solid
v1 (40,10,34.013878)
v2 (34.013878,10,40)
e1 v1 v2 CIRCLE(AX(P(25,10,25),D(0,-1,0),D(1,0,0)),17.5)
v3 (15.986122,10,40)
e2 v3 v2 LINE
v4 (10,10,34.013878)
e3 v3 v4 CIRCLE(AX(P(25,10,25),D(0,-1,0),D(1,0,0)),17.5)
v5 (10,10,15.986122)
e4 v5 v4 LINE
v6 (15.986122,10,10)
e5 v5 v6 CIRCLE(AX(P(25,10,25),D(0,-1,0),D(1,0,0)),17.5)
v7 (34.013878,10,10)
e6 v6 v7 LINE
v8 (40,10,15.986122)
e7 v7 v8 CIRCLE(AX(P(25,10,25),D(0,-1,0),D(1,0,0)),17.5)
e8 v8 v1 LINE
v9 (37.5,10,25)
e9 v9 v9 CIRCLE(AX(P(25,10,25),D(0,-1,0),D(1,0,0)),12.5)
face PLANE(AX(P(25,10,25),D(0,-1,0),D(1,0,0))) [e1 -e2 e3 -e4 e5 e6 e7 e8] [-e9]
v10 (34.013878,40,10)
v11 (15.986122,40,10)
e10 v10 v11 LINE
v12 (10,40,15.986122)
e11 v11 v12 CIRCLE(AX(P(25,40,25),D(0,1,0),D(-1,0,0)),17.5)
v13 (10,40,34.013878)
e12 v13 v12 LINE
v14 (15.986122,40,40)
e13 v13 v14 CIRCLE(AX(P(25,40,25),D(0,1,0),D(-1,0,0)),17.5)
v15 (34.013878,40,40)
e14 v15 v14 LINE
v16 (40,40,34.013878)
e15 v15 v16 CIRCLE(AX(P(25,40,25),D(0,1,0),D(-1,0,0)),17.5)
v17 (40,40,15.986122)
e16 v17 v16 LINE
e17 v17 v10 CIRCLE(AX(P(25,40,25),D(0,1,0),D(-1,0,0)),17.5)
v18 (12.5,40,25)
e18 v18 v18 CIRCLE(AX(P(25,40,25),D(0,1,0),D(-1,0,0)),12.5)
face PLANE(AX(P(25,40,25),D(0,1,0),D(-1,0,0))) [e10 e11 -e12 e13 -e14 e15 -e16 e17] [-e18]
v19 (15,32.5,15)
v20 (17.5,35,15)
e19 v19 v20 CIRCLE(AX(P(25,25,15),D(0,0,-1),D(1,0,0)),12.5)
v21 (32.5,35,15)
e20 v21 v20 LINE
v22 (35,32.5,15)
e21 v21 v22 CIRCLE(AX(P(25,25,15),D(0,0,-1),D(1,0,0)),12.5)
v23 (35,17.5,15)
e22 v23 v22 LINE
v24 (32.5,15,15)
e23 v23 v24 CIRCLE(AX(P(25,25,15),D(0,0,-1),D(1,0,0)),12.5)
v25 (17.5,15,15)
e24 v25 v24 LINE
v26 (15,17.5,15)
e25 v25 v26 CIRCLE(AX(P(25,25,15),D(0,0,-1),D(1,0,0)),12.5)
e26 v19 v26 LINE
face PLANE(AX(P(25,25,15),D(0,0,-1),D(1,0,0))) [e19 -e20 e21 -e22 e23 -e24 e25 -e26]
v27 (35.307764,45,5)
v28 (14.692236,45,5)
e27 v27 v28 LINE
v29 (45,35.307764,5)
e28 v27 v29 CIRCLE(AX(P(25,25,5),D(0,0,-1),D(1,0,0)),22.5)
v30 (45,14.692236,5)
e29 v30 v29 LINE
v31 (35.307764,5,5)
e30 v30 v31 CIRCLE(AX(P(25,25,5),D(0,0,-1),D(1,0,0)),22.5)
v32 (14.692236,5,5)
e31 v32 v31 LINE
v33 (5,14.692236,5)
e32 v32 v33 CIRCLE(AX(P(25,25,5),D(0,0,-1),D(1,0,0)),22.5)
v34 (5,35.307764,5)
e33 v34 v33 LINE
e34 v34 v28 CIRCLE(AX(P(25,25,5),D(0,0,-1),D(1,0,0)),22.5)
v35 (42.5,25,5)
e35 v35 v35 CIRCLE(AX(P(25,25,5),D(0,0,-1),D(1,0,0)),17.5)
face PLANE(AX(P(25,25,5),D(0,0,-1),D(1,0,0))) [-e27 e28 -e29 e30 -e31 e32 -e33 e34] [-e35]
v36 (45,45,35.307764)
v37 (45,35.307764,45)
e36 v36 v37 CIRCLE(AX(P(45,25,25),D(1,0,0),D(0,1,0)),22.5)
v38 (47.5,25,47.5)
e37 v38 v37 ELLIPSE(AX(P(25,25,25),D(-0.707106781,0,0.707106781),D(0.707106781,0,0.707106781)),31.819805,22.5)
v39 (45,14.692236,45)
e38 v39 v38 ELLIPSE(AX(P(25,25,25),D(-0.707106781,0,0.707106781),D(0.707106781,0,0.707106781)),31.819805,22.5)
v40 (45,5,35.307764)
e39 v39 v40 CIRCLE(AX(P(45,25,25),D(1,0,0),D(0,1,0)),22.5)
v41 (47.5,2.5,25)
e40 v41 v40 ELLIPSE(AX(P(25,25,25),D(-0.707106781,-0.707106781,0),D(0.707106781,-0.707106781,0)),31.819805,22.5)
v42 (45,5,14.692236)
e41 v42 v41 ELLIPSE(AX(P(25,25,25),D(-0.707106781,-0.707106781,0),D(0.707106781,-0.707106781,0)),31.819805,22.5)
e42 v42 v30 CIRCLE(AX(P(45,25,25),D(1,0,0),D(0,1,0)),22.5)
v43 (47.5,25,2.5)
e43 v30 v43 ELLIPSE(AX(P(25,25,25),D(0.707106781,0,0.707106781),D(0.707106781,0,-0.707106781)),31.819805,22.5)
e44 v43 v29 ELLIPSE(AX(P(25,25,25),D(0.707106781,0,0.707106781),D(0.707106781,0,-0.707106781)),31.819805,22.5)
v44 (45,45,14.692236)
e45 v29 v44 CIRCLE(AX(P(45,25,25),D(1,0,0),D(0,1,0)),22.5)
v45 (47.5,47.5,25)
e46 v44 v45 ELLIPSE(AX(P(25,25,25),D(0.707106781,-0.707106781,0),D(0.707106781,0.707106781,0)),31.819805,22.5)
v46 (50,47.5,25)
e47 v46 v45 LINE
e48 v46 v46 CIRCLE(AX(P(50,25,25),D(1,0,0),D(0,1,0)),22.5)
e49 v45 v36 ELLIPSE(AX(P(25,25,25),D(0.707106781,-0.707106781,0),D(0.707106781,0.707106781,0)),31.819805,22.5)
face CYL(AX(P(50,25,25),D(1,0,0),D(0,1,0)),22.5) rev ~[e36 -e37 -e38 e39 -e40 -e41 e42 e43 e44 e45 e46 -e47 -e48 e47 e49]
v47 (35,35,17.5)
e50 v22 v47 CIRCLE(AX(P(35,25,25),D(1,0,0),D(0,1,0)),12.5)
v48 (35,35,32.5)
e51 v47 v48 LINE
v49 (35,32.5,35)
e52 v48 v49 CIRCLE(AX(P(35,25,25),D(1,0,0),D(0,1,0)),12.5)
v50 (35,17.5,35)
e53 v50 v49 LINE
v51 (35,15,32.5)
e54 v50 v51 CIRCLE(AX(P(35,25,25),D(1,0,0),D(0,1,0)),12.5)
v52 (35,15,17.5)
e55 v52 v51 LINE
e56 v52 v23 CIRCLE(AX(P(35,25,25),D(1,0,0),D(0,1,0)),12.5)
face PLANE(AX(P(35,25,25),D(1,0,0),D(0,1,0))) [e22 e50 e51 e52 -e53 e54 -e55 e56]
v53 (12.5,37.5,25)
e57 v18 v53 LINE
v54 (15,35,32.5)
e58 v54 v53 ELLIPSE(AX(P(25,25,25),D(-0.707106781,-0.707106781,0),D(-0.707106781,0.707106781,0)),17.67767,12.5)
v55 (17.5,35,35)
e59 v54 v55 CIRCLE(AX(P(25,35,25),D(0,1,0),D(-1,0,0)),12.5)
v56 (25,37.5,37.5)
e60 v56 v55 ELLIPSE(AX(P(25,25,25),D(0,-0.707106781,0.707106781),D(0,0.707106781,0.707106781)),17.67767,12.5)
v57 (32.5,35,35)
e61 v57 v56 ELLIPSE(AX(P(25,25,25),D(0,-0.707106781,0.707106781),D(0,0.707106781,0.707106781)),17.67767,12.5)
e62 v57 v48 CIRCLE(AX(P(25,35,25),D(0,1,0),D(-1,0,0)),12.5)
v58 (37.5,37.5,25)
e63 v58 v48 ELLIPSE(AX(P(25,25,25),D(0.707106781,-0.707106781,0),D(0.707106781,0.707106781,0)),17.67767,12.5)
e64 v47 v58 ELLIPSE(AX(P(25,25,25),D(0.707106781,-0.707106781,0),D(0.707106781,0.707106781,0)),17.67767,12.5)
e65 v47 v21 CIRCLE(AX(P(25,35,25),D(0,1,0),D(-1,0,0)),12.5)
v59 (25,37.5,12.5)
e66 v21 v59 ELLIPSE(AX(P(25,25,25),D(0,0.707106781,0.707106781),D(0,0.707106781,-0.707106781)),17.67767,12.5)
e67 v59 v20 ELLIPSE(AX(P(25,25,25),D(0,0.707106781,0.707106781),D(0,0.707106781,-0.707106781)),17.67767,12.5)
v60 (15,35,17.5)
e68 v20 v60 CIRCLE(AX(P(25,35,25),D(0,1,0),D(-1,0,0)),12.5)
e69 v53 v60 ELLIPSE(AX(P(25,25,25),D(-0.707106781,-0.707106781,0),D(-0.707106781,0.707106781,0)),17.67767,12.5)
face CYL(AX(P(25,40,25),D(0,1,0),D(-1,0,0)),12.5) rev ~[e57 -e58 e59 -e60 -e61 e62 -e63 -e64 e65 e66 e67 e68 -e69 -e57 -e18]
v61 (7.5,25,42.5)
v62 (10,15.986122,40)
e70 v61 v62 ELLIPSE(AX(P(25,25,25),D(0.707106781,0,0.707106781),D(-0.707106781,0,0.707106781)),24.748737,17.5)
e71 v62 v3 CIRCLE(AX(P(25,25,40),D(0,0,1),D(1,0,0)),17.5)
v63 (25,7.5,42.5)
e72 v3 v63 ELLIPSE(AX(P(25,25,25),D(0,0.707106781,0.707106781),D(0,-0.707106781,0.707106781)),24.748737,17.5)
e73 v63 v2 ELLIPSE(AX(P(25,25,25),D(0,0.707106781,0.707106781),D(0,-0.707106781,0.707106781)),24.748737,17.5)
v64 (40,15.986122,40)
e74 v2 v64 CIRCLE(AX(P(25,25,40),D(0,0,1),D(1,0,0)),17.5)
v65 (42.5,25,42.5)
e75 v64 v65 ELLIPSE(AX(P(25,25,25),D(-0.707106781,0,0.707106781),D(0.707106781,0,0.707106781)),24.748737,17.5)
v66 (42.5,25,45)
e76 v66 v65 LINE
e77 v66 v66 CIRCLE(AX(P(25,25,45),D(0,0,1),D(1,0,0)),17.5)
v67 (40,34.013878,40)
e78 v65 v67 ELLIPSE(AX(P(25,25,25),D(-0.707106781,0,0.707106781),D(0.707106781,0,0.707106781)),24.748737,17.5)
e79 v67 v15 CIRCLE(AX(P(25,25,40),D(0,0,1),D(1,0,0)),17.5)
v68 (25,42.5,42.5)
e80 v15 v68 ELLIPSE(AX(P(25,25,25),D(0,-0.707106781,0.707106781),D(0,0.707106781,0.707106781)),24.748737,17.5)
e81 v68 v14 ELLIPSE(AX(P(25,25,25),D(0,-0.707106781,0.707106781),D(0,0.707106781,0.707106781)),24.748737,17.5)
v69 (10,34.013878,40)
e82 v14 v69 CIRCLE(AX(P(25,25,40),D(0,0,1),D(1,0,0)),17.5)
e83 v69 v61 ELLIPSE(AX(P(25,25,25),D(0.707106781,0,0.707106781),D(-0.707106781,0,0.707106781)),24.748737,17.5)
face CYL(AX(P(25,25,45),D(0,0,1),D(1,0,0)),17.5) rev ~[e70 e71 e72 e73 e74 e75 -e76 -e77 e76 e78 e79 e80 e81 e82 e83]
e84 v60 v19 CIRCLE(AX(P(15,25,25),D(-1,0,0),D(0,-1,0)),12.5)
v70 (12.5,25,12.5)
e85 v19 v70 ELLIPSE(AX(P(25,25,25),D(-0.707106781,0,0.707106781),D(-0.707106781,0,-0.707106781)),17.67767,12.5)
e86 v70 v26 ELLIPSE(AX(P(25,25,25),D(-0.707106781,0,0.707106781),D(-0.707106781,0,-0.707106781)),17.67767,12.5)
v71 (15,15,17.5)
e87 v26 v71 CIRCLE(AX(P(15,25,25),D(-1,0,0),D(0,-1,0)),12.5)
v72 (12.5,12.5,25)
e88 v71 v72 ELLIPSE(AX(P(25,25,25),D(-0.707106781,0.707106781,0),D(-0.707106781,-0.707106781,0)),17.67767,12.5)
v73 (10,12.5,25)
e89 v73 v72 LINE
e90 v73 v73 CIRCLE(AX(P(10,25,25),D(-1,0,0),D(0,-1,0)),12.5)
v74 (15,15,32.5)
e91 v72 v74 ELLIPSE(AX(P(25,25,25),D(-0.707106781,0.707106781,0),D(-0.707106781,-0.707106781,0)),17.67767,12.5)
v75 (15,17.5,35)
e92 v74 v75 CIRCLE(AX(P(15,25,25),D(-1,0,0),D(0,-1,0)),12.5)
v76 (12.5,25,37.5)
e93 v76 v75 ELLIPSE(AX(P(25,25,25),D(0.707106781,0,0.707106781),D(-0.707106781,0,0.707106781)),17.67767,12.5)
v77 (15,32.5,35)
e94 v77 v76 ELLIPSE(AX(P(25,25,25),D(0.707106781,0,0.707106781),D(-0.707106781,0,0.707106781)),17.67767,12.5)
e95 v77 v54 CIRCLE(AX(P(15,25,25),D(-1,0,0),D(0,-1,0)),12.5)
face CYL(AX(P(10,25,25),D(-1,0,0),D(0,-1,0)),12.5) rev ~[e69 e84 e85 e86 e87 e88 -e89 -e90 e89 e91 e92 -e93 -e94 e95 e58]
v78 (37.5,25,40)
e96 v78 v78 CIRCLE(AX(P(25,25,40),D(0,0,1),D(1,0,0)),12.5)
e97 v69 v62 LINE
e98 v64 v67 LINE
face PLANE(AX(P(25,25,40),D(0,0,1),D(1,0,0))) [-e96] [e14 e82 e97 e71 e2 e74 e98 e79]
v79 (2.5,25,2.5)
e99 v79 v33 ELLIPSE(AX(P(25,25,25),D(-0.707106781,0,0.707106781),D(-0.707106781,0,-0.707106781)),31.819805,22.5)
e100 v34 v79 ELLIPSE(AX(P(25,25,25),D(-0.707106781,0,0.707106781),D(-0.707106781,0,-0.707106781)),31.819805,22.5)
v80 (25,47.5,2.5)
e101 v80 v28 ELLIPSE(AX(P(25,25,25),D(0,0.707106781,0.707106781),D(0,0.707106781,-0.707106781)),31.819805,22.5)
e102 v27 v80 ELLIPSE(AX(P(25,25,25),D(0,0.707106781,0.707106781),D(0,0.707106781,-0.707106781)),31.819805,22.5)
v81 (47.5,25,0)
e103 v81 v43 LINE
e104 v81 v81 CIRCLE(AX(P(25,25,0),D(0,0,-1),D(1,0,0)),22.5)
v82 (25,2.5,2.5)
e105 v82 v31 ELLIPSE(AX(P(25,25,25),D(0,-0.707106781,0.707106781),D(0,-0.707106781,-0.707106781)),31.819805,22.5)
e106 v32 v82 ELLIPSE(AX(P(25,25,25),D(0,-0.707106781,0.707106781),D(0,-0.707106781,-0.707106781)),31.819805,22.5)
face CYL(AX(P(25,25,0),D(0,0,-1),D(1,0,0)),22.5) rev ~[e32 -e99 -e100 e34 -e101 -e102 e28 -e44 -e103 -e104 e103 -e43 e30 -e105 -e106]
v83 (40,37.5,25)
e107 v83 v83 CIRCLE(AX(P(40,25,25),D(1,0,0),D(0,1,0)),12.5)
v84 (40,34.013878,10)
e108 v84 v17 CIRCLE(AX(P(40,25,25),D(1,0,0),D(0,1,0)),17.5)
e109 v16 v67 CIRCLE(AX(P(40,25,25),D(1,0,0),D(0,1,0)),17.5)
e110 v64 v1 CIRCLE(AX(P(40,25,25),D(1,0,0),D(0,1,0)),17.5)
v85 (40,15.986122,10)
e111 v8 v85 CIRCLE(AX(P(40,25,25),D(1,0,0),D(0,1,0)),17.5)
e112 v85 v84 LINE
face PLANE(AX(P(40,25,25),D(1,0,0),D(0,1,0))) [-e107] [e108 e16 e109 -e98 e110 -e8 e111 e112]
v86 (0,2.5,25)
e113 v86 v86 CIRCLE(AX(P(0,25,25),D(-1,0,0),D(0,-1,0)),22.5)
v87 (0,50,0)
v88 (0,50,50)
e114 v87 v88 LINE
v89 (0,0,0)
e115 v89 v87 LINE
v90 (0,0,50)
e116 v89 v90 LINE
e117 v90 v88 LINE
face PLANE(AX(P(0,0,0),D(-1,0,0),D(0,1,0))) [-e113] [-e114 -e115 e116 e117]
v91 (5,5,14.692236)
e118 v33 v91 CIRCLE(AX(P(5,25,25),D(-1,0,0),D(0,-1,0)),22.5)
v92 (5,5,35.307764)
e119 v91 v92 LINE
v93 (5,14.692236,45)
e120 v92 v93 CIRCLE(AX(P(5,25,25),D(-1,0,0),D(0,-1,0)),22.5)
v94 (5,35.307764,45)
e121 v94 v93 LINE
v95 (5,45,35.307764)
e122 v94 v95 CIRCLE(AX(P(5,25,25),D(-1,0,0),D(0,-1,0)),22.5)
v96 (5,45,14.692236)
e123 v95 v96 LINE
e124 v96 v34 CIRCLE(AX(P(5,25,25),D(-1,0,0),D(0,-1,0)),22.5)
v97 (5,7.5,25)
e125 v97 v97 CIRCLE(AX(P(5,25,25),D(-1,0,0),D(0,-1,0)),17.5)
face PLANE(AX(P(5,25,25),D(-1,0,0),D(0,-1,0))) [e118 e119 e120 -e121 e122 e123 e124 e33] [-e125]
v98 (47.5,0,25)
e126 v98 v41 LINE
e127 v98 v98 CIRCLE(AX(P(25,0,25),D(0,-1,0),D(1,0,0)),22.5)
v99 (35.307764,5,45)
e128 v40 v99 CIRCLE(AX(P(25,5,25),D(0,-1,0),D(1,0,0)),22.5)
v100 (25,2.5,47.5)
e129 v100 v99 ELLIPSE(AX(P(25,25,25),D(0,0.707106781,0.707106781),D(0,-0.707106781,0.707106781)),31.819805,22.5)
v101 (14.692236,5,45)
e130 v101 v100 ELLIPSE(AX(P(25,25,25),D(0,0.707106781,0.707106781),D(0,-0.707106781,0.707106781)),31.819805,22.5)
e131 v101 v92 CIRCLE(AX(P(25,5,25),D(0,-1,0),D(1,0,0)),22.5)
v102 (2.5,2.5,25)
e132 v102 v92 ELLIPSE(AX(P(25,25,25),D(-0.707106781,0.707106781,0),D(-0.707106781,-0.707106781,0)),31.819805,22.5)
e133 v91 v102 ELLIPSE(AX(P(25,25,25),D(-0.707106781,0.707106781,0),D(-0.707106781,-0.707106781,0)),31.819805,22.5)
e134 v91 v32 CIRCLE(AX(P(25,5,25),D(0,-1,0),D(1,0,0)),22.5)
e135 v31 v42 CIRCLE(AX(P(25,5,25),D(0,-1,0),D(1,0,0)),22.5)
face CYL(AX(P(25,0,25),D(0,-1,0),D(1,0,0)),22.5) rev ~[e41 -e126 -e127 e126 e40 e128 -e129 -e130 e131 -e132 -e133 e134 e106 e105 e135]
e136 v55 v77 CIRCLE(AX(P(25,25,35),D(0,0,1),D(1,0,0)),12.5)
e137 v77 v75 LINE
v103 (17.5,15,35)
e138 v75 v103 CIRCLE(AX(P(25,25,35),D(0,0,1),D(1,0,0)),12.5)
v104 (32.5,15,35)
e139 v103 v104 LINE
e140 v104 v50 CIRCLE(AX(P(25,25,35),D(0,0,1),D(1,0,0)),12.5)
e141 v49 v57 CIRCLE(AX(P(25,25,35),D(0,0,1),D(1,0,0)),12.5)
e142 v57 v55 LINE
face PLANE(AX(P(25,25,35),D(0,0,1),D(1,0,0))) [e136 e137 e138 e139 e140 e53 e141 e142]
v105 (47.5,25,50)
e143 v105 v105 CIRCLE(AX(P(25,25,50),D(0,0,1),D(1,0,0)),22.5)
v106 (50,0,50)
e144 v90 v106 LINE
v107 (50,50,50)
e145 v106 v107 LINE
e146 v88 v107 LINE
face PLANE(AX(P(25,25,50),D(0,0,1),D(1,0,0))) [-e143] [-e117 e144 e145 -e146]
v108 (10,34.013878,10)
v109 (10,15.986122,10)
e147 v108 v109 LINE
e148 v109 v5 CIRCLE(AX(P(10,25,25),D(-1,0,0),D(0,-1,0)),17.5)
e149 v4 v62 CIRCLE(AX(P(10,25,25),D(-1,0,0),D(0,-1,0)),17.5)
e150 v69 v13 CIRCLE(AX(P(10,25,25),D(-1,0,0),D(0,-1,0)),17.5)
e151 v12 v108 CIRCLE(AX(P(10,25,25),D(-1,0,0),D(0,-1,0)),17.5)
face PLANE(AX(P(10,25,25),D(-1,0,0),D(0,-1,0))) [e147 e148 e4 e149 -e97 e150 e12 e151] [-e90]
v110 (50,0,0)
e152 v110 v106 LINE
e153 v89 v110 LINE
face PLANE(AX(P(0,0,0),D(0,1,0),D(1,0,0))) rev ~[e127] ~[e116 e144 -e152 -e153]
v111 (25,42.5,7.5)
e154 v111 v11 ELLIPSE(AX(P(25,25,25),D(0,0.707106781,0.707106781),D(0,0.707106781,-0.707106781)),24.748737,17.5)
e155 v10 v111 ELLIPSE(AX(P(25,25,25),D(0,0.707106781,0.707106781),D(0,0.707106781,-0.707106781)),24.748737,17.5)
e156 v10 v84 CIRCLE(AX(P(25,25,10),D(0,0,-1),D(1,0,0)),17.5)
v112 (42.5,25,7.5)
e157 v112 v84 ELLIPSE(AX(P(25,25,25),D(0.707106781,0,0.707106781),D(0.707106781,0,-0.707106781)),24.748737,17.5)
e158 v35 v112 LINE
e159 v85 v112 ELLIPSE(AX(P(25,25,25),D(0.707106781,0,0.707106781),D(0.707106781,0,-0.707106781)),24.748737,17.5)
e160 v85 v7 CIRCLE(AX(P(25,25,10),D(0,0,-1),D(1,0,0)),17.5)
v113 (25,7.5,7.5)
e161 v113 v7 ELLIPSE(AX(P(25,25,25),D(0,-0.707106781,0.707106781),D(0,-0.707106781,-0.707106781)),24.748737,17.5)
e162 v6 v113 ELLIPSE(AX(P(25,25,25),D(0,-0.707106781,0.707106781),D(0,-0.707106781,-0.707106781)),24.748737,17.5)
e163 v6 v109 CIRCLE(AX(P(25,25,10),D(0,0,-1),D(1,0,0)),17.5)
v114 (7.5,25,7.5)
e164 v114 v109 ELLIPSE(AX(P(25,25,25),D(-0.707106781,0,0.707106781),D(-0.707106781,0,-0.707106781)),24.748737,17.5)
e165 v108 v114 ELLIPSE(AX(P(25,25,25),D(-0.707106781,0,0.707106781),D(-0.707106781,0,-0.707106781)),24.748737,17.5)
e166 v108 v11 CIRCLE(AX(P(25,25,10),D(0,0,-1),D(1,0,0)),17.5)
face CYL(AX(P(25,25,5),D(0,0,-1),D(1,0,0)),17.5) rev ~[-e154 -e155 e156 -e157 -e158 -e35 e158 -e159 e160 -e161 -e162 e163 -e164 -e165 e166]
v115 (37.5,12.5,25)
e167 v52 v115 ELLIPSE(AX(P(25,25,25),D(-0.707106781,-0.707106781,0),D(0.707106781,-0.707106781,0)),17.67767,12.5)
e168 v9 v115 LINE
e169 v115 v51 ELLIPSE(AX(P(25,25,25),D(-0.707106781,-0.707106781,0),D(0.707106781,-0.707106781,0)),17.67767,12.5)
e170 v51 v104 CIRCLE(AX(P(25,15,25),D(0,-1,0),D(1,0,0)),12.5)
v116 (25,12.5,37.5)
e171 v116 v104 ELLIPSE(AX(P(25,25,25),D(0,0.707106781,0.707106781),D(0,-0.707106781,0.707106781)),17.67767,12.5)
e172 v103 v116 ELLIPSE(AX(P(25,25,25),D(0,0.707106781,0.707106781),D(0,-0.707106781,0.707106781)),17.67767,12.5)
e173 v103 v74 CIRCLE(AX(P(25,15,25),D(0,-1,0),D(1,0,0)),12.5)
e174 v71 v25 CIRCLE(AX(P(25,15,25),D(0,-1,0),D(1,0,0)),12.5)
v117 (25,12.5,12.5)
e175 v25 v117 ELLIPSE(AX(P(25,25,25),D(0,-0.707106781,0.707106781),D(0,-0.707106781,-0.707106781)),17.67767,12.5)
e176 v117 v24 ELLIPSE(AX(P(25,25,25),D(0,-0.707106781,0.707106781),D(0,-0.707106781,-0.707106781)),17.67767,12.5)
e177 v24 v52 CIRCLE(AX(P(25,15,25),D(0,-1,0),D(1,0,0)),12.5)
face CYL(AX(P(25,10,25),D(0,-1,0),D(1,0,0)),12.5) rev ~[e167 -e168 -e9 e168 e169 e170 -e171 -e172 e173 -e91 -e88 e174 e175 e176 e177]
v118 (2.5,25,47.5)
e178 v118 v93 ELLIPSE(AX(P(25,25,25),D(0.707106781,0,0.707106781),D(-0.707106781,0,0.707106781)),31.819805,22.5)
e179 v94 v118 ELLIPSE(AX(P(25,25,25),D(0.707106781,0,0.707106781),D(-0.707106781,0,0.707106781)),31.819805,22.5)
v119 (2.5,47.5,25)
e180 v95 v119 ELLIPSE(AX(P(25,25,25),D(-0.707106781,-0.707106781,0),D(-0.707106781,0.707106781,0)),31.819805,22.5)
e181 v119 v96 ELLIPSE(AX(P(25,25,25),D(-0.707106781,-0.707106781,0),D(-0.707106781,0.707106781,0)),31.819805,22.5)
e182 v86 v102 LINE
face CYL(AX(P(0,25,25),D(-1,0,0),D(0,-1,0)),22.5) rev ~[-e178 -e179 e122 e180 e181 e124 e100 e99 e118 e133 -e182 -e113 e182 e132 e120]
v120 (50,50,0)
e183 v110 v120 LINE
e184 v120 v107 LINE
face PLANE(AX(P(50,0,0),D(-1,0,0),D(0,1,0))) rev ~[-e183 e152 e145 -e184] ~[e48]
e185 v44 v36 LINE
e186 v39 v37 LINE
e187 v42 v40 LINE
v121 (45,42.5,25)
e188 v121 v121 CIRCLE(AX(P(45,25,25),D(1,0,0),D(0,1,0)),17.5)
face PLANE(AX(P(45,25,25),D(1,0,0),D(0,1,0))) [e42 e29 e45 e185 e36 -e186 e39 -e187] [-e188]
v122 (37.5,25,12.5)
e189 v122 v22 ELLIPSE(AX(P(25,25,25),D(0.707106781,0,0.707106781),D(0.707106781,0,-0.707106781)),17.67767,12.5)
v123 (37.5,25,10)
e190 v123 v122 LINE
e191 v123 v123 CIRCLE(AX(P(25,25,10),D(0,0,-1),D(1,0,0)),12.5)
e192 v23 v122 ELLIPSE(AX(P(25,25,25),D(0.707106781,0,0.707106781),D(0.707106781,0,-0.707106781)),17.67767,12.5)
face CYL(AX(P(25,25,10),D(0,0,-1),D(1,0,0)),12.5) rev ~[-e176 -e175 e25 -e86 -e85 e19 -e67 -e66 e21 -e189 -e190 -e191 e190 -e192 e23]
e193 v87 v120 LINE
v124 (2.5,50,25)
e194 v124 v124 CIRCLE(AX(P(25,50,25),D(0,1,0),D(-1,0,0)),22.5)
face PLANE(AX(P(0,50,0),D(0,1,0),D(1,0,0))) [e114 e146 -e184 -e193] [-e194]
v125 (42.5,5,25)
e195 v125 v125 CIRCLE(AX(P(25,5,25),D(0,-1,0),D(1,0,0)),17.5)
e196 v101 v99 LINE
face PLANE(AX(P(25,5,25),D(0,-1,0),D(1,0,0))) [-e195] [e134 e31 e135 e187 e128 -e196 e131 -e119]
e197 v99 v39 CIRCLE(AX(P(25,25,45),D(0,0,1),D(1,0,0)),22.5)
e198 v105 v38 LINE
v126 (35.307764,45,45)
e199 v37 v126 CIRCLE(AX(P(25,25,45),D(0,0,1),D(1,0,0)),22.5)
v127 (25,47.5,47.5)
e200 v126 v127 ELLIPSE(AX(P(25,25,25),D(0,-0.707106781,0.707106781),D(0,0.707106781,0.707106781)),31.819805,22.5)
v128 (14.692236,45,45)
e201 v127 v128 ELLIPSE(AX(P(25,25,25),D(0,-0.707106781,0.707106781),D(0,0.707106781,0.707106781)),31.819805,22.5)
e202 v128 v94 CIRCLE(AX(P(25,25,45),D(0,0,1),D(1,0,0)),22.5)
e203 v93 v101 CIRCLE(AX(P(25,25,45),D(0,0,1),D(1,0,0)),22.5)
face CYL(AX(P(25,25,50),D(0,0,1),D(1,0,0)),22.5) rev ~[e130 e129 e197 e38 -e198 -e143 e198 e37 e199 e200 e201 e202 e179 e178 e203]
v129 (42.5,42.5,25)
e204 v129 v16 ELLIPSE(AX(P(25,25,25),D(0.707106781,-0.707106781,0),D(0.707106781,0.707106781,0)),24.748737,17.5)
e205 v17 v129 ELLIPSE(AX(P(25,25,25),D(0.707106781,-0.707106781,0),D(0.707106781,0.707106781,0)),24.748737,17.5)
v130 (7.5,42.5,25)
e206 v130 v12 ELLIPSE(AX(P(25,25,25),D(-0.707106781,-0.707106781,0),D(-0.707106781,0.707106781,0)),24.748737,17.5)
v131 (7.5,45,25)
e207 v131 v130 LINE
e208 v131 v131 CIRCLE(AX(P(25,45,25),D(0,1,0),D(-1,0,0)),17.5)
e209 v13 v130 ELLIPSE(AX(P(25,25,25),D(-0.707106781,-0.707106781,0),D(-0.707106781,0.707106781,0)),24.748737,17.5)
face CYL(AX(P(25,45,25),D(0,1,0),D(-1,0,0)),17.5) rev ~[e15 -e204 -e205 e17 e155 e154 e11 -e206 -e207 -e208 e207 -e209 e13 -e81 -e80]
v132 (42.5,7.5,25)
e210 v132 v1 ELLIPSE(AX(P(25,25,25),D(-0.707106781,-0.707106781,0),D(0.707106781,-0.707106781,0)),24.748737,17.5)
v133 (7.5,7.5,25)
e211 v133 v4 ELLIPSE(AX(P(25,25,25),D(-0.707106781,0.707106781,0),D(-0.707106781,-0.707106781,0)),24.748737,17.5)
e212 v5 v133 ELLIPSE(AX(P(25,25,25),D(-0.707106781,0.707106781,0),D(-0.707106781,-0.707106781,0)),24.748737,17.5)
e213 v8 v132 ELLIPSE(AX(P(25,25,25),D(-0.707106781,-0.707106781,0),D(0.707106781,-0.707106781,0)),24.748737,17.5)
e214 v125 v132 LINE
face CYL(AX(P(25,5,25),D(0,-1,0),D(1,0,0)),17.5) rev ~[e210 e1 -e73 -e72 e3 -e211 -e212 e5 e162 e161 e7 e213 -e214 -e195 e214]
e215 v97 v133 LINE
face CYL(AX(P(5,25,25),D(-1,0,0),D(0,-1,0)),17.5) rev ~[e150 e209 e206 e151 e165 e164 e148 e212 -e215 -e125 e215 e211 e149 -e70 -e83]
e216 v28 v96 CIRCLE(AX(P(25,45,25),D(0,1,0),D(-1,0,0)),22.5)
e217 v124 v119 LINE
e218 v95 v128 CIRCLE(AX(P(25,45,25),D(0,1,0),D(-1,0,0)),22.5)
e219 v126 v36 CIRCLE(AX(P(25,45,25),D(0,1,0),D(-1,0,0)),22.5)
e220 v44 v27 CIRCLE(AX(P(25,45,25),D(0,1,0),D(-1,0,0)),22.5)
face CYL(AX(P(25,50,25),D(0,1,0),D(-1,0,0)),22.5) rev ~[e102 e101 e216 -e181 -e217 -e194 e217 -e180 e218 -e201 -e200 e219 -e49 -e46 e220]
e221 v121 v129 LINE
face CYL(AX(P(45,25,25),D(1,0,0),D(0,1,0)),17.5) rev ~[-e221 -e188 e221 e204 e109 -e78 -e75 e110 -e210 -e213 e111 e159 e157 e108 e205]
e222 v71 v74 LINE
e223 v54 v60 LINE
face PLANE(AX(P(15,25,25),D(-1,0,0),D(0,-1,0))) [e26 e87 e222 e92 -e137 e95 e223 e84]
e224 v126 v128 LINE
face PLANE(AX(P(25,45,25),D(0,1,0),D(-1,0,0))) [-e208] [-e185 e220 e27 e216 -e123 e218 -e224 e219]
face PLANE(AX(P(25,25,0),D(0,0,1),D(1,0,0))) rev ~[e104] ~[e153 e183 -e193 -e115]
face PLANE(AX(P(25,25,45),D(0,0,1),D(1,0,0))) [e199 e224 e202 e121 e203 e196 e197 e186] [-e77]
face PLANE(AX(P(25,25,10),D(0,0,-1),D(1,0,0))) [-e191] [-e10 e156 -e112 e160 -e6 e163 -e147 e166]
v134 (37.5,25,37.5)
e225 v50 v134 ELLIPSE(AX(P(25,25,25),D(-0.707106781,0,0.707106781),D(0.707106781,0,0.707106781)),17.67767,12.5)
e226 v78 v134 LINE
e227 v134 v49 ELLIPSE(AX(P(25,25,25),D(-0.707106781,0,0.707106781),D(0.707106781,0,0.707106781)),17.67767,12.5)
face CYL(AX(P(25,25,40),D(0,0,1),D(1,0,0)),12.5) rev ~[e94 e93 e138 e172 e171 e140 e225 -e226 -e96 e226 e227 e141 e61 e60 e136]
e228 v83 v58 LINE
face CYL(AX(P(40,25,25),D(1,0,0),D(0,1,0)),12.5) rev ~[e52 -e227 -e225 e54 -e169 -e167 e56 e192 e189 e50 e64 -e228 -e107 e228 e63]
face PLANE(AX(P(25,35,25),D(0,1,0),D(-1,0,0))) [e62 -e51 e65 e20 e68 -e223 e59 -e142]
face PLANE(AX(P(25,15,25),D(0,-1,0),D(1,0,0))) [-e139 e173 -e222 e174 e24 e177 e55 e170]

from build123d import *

# Parameters (mm, degrees)
F0_W      = 50
F0_H      = 50
F1_DEPTH  = 50
F2_R      = 22.5
F3_DEPTH  = 5
F4_R      = 17.5
F5_DEPTH  = 5
F6_R      = 12.5
F7_DEPTH  = 5
F8_R      = 22.5
F9_DEPTH  = 5
F10_R     = 17.5
F11_DEPTH = 5
F12_R     = 12.5
F13_DEPTH = 5
F14_R     = 22.5
F15_DEPTH = 5
F16_R     = 17.5
F17_DEPTH = 5
F18_R     = 12.5
F19_DEPTH = 5
F20_R     = 22.5
F21_DEPTH = 5
F22_R     = 17.5
F23_DEPTH = 5
F24_R     = 12.5
F25_DEPTH = 5
F26_R     = 22.5
F27_DEPTH = 5
F28_R     = 17.5
F29_DEPTH = 5
F30_R     = 12.5
F31_DEPTH = 5
F32_R     = 22.5
F33_DEPTH = 5
F34_R     = 17.5
F35_DEPTH = 5
F36_R     = 12.5
F37_DEPTH = 5


with BuildPart() as f1:
    # F0 (on Top) → F1 (new body)
    with BuildSketch(Plane.XY):
        with Locations((25, 25)):
            Rectangle(F0_W, F0_H)
    extrude(amount=F1_DEPTH)

    # F2 (on face) → F3 (cut)
    with BuildSketch(Plane.XY.offset(50)):
        with Locations((25, 25)):
            Circle(F2_R)
    extrude(amount=-F3_DEPTH, mode=Mode.SUBTRACT)

    # F4 (on face) → F5 (cut)
    with BuildSketch(Plane.XY.offset(45)):
        with Locations((25, 25)):
            Circle(F4_R)
    extrude(amount=-F5_DEPTH, mode=Mode.SUBTRACT)

    # F6 (on face) → F7 (cut)
    with BuildSketch(Plane.XY.offset(40)):
        with Locations((25, 25)):
            Circle(F6_R)
    extrude(amount=-F7_DEPTH, mode=Mode.SUBTRACT)

    # F8 (on face) → F9 (cut)
    with BuildSketch(Plane(origin=(0, 0, 0), x_dir=(0, -1, 0), z_dir=(-1, 0, 0))):
        with Locations((-25, 25)):
            Circle(F8_R)
    extrude(amount=-F9_DEPTH, mode=Mode.SUBTRACT)

    # F10 (on face) → F11 (cut)
    with BuildSketch(Plane(origin=(5, 0, 0), x_dir=(0, -1, 0), z_dir=(-1, 0, 0))):
        with Locations((-25, 25)):
            Circle(F10_R)
    extrude(amount=-F11_DEPTH, mode=Mode.SUBTRACT)

    # F12 (on face) → F13 (cut)
    with BuildSketch(Plane(origin=(10, 0, 0), x_dir=(0, -1, 0), z_dir=(-1, 0, 0))):
        with Locations((-25, 25)):
            Circle(F12_R)
    extrude(amount=-F13_DEPTH, mode=Mode.SUBTRACT)

    # F14 (on face) → F15 (cut)
    with BuildSketch(Plane.XZ):
        with Locations((25, 25)):
            Circle(F14_R)
    extrude(amount=-F15_DEPTH, mode=Mode.SUBTRACT)

    # F16 (on face) → F17 (cut)
    with BuildSketch(Plane.XZ.offset(-5)):
        with Locations((25, 25)):
            Circle(F16_R)
    extrude(amount=-F17_DEPTH, mode=Mode.SUBTRACT)

    # F18 (on face) → F19 (cut)
    with BuildSketch(Plane.XZ.offset(-10)):
        with Locations((25, 25)):
            Circle(F18_R)
    extrude(amount=-F19_DEPTH, mode=Mode.SUBTRACT)

    # F20 (on face) → F21 (cut)
    with BuildSketch(Plane.YZ.offset(50)):
        with Locations((25, 25)):
            Circle(F20_R)
    extrude(amount=-F21_DEPTH, mode=Mode.SUBTRACT)

    # F22 (on face) → F23 (cut)
    with BuildSketch(Plane.YZ.offset(45)):
        with Locations((25, 25)):
            Circle(F22_R)
    extrude(amount=-F23_DEPTH, mode=Mode.SUBTRACT)

    # F24 (on face) → F25 (cut)
    with BuildSketch(Plane.YZ.offset(40)):
        with Locations((25, 25)):
            Circle(F24_R)
    extrude(amount=-F25_DEPTH, mode=Mode.SUBTRACT)

    # F26 (on face) → F27 (cut)
    with BuildSketch(Plane(origin=(0, 50, 0), x_dir=(-1, 0, 0), z_dir=(0, 1, 0))):
        with Locations((-25, 25)):
            Circle(F26_R)
    extrude(amount=-F27_DEPTH, mode=Mode.SUBTRACT)

    # F28 (on face) → F29 (cut)
    with BuildSketch(Plane(origin=(0, 45, 0), x_dir=(-1, 0, 0), z_dir=(0, 1, 0))):
        with Locations((-25, 25)):
            Circle(F28_R)
    extrude(amount=-F29_DEPTH, mode=Mode.SUBTRACT)

    # F30 (on face) → F31 (cut)
    with BuildSketch(Plane(origin=(0, 40, 0), x_dir=(-1, 0, 0), z_dir=(0, 1, 0))):
        with Locations((-25, 25)):
            Circle(F30_R)
    extrude(amount=-F31_DEPTH, mode=Mode.SUBTRACT)

    # F32 (on face) → F33 (cut)
    with BuildSketch(Plane(origin=(0, 0, 0), x_dir=(1, 0, 0), z_dir=(0, 0, -1))):
        with Locations((25, -25)):
            Circle(F32_R)
    extrude(amount=-F33_DEPTH, mode=Mode.SUBTRACT)

    # F34 (on face) → F35 (cut)
    with BuildSketch(Plane(origin=(0, 0, 5), x_dir=(1, 0, 0), z_dir=(0, 0, -1))):
        with Locations((25, -25)):
            Circle(F34_R)
    extrude(amount=-F35_DEPTH, mode=Mode.SUBTRACT)

    # F36 (on face) → F37 (cut)
    with BuildSketch(Plane(origin=(0, 0, 10), x_dir=(1, 0, 0), z_dir=(0, 0, -1))):
        with Locations((25, -25)):
            Circle(F36_R)
    extrude(amount=-F37_DEPTH, mode=Mode.SUBTRACT)


solid = f1.part
